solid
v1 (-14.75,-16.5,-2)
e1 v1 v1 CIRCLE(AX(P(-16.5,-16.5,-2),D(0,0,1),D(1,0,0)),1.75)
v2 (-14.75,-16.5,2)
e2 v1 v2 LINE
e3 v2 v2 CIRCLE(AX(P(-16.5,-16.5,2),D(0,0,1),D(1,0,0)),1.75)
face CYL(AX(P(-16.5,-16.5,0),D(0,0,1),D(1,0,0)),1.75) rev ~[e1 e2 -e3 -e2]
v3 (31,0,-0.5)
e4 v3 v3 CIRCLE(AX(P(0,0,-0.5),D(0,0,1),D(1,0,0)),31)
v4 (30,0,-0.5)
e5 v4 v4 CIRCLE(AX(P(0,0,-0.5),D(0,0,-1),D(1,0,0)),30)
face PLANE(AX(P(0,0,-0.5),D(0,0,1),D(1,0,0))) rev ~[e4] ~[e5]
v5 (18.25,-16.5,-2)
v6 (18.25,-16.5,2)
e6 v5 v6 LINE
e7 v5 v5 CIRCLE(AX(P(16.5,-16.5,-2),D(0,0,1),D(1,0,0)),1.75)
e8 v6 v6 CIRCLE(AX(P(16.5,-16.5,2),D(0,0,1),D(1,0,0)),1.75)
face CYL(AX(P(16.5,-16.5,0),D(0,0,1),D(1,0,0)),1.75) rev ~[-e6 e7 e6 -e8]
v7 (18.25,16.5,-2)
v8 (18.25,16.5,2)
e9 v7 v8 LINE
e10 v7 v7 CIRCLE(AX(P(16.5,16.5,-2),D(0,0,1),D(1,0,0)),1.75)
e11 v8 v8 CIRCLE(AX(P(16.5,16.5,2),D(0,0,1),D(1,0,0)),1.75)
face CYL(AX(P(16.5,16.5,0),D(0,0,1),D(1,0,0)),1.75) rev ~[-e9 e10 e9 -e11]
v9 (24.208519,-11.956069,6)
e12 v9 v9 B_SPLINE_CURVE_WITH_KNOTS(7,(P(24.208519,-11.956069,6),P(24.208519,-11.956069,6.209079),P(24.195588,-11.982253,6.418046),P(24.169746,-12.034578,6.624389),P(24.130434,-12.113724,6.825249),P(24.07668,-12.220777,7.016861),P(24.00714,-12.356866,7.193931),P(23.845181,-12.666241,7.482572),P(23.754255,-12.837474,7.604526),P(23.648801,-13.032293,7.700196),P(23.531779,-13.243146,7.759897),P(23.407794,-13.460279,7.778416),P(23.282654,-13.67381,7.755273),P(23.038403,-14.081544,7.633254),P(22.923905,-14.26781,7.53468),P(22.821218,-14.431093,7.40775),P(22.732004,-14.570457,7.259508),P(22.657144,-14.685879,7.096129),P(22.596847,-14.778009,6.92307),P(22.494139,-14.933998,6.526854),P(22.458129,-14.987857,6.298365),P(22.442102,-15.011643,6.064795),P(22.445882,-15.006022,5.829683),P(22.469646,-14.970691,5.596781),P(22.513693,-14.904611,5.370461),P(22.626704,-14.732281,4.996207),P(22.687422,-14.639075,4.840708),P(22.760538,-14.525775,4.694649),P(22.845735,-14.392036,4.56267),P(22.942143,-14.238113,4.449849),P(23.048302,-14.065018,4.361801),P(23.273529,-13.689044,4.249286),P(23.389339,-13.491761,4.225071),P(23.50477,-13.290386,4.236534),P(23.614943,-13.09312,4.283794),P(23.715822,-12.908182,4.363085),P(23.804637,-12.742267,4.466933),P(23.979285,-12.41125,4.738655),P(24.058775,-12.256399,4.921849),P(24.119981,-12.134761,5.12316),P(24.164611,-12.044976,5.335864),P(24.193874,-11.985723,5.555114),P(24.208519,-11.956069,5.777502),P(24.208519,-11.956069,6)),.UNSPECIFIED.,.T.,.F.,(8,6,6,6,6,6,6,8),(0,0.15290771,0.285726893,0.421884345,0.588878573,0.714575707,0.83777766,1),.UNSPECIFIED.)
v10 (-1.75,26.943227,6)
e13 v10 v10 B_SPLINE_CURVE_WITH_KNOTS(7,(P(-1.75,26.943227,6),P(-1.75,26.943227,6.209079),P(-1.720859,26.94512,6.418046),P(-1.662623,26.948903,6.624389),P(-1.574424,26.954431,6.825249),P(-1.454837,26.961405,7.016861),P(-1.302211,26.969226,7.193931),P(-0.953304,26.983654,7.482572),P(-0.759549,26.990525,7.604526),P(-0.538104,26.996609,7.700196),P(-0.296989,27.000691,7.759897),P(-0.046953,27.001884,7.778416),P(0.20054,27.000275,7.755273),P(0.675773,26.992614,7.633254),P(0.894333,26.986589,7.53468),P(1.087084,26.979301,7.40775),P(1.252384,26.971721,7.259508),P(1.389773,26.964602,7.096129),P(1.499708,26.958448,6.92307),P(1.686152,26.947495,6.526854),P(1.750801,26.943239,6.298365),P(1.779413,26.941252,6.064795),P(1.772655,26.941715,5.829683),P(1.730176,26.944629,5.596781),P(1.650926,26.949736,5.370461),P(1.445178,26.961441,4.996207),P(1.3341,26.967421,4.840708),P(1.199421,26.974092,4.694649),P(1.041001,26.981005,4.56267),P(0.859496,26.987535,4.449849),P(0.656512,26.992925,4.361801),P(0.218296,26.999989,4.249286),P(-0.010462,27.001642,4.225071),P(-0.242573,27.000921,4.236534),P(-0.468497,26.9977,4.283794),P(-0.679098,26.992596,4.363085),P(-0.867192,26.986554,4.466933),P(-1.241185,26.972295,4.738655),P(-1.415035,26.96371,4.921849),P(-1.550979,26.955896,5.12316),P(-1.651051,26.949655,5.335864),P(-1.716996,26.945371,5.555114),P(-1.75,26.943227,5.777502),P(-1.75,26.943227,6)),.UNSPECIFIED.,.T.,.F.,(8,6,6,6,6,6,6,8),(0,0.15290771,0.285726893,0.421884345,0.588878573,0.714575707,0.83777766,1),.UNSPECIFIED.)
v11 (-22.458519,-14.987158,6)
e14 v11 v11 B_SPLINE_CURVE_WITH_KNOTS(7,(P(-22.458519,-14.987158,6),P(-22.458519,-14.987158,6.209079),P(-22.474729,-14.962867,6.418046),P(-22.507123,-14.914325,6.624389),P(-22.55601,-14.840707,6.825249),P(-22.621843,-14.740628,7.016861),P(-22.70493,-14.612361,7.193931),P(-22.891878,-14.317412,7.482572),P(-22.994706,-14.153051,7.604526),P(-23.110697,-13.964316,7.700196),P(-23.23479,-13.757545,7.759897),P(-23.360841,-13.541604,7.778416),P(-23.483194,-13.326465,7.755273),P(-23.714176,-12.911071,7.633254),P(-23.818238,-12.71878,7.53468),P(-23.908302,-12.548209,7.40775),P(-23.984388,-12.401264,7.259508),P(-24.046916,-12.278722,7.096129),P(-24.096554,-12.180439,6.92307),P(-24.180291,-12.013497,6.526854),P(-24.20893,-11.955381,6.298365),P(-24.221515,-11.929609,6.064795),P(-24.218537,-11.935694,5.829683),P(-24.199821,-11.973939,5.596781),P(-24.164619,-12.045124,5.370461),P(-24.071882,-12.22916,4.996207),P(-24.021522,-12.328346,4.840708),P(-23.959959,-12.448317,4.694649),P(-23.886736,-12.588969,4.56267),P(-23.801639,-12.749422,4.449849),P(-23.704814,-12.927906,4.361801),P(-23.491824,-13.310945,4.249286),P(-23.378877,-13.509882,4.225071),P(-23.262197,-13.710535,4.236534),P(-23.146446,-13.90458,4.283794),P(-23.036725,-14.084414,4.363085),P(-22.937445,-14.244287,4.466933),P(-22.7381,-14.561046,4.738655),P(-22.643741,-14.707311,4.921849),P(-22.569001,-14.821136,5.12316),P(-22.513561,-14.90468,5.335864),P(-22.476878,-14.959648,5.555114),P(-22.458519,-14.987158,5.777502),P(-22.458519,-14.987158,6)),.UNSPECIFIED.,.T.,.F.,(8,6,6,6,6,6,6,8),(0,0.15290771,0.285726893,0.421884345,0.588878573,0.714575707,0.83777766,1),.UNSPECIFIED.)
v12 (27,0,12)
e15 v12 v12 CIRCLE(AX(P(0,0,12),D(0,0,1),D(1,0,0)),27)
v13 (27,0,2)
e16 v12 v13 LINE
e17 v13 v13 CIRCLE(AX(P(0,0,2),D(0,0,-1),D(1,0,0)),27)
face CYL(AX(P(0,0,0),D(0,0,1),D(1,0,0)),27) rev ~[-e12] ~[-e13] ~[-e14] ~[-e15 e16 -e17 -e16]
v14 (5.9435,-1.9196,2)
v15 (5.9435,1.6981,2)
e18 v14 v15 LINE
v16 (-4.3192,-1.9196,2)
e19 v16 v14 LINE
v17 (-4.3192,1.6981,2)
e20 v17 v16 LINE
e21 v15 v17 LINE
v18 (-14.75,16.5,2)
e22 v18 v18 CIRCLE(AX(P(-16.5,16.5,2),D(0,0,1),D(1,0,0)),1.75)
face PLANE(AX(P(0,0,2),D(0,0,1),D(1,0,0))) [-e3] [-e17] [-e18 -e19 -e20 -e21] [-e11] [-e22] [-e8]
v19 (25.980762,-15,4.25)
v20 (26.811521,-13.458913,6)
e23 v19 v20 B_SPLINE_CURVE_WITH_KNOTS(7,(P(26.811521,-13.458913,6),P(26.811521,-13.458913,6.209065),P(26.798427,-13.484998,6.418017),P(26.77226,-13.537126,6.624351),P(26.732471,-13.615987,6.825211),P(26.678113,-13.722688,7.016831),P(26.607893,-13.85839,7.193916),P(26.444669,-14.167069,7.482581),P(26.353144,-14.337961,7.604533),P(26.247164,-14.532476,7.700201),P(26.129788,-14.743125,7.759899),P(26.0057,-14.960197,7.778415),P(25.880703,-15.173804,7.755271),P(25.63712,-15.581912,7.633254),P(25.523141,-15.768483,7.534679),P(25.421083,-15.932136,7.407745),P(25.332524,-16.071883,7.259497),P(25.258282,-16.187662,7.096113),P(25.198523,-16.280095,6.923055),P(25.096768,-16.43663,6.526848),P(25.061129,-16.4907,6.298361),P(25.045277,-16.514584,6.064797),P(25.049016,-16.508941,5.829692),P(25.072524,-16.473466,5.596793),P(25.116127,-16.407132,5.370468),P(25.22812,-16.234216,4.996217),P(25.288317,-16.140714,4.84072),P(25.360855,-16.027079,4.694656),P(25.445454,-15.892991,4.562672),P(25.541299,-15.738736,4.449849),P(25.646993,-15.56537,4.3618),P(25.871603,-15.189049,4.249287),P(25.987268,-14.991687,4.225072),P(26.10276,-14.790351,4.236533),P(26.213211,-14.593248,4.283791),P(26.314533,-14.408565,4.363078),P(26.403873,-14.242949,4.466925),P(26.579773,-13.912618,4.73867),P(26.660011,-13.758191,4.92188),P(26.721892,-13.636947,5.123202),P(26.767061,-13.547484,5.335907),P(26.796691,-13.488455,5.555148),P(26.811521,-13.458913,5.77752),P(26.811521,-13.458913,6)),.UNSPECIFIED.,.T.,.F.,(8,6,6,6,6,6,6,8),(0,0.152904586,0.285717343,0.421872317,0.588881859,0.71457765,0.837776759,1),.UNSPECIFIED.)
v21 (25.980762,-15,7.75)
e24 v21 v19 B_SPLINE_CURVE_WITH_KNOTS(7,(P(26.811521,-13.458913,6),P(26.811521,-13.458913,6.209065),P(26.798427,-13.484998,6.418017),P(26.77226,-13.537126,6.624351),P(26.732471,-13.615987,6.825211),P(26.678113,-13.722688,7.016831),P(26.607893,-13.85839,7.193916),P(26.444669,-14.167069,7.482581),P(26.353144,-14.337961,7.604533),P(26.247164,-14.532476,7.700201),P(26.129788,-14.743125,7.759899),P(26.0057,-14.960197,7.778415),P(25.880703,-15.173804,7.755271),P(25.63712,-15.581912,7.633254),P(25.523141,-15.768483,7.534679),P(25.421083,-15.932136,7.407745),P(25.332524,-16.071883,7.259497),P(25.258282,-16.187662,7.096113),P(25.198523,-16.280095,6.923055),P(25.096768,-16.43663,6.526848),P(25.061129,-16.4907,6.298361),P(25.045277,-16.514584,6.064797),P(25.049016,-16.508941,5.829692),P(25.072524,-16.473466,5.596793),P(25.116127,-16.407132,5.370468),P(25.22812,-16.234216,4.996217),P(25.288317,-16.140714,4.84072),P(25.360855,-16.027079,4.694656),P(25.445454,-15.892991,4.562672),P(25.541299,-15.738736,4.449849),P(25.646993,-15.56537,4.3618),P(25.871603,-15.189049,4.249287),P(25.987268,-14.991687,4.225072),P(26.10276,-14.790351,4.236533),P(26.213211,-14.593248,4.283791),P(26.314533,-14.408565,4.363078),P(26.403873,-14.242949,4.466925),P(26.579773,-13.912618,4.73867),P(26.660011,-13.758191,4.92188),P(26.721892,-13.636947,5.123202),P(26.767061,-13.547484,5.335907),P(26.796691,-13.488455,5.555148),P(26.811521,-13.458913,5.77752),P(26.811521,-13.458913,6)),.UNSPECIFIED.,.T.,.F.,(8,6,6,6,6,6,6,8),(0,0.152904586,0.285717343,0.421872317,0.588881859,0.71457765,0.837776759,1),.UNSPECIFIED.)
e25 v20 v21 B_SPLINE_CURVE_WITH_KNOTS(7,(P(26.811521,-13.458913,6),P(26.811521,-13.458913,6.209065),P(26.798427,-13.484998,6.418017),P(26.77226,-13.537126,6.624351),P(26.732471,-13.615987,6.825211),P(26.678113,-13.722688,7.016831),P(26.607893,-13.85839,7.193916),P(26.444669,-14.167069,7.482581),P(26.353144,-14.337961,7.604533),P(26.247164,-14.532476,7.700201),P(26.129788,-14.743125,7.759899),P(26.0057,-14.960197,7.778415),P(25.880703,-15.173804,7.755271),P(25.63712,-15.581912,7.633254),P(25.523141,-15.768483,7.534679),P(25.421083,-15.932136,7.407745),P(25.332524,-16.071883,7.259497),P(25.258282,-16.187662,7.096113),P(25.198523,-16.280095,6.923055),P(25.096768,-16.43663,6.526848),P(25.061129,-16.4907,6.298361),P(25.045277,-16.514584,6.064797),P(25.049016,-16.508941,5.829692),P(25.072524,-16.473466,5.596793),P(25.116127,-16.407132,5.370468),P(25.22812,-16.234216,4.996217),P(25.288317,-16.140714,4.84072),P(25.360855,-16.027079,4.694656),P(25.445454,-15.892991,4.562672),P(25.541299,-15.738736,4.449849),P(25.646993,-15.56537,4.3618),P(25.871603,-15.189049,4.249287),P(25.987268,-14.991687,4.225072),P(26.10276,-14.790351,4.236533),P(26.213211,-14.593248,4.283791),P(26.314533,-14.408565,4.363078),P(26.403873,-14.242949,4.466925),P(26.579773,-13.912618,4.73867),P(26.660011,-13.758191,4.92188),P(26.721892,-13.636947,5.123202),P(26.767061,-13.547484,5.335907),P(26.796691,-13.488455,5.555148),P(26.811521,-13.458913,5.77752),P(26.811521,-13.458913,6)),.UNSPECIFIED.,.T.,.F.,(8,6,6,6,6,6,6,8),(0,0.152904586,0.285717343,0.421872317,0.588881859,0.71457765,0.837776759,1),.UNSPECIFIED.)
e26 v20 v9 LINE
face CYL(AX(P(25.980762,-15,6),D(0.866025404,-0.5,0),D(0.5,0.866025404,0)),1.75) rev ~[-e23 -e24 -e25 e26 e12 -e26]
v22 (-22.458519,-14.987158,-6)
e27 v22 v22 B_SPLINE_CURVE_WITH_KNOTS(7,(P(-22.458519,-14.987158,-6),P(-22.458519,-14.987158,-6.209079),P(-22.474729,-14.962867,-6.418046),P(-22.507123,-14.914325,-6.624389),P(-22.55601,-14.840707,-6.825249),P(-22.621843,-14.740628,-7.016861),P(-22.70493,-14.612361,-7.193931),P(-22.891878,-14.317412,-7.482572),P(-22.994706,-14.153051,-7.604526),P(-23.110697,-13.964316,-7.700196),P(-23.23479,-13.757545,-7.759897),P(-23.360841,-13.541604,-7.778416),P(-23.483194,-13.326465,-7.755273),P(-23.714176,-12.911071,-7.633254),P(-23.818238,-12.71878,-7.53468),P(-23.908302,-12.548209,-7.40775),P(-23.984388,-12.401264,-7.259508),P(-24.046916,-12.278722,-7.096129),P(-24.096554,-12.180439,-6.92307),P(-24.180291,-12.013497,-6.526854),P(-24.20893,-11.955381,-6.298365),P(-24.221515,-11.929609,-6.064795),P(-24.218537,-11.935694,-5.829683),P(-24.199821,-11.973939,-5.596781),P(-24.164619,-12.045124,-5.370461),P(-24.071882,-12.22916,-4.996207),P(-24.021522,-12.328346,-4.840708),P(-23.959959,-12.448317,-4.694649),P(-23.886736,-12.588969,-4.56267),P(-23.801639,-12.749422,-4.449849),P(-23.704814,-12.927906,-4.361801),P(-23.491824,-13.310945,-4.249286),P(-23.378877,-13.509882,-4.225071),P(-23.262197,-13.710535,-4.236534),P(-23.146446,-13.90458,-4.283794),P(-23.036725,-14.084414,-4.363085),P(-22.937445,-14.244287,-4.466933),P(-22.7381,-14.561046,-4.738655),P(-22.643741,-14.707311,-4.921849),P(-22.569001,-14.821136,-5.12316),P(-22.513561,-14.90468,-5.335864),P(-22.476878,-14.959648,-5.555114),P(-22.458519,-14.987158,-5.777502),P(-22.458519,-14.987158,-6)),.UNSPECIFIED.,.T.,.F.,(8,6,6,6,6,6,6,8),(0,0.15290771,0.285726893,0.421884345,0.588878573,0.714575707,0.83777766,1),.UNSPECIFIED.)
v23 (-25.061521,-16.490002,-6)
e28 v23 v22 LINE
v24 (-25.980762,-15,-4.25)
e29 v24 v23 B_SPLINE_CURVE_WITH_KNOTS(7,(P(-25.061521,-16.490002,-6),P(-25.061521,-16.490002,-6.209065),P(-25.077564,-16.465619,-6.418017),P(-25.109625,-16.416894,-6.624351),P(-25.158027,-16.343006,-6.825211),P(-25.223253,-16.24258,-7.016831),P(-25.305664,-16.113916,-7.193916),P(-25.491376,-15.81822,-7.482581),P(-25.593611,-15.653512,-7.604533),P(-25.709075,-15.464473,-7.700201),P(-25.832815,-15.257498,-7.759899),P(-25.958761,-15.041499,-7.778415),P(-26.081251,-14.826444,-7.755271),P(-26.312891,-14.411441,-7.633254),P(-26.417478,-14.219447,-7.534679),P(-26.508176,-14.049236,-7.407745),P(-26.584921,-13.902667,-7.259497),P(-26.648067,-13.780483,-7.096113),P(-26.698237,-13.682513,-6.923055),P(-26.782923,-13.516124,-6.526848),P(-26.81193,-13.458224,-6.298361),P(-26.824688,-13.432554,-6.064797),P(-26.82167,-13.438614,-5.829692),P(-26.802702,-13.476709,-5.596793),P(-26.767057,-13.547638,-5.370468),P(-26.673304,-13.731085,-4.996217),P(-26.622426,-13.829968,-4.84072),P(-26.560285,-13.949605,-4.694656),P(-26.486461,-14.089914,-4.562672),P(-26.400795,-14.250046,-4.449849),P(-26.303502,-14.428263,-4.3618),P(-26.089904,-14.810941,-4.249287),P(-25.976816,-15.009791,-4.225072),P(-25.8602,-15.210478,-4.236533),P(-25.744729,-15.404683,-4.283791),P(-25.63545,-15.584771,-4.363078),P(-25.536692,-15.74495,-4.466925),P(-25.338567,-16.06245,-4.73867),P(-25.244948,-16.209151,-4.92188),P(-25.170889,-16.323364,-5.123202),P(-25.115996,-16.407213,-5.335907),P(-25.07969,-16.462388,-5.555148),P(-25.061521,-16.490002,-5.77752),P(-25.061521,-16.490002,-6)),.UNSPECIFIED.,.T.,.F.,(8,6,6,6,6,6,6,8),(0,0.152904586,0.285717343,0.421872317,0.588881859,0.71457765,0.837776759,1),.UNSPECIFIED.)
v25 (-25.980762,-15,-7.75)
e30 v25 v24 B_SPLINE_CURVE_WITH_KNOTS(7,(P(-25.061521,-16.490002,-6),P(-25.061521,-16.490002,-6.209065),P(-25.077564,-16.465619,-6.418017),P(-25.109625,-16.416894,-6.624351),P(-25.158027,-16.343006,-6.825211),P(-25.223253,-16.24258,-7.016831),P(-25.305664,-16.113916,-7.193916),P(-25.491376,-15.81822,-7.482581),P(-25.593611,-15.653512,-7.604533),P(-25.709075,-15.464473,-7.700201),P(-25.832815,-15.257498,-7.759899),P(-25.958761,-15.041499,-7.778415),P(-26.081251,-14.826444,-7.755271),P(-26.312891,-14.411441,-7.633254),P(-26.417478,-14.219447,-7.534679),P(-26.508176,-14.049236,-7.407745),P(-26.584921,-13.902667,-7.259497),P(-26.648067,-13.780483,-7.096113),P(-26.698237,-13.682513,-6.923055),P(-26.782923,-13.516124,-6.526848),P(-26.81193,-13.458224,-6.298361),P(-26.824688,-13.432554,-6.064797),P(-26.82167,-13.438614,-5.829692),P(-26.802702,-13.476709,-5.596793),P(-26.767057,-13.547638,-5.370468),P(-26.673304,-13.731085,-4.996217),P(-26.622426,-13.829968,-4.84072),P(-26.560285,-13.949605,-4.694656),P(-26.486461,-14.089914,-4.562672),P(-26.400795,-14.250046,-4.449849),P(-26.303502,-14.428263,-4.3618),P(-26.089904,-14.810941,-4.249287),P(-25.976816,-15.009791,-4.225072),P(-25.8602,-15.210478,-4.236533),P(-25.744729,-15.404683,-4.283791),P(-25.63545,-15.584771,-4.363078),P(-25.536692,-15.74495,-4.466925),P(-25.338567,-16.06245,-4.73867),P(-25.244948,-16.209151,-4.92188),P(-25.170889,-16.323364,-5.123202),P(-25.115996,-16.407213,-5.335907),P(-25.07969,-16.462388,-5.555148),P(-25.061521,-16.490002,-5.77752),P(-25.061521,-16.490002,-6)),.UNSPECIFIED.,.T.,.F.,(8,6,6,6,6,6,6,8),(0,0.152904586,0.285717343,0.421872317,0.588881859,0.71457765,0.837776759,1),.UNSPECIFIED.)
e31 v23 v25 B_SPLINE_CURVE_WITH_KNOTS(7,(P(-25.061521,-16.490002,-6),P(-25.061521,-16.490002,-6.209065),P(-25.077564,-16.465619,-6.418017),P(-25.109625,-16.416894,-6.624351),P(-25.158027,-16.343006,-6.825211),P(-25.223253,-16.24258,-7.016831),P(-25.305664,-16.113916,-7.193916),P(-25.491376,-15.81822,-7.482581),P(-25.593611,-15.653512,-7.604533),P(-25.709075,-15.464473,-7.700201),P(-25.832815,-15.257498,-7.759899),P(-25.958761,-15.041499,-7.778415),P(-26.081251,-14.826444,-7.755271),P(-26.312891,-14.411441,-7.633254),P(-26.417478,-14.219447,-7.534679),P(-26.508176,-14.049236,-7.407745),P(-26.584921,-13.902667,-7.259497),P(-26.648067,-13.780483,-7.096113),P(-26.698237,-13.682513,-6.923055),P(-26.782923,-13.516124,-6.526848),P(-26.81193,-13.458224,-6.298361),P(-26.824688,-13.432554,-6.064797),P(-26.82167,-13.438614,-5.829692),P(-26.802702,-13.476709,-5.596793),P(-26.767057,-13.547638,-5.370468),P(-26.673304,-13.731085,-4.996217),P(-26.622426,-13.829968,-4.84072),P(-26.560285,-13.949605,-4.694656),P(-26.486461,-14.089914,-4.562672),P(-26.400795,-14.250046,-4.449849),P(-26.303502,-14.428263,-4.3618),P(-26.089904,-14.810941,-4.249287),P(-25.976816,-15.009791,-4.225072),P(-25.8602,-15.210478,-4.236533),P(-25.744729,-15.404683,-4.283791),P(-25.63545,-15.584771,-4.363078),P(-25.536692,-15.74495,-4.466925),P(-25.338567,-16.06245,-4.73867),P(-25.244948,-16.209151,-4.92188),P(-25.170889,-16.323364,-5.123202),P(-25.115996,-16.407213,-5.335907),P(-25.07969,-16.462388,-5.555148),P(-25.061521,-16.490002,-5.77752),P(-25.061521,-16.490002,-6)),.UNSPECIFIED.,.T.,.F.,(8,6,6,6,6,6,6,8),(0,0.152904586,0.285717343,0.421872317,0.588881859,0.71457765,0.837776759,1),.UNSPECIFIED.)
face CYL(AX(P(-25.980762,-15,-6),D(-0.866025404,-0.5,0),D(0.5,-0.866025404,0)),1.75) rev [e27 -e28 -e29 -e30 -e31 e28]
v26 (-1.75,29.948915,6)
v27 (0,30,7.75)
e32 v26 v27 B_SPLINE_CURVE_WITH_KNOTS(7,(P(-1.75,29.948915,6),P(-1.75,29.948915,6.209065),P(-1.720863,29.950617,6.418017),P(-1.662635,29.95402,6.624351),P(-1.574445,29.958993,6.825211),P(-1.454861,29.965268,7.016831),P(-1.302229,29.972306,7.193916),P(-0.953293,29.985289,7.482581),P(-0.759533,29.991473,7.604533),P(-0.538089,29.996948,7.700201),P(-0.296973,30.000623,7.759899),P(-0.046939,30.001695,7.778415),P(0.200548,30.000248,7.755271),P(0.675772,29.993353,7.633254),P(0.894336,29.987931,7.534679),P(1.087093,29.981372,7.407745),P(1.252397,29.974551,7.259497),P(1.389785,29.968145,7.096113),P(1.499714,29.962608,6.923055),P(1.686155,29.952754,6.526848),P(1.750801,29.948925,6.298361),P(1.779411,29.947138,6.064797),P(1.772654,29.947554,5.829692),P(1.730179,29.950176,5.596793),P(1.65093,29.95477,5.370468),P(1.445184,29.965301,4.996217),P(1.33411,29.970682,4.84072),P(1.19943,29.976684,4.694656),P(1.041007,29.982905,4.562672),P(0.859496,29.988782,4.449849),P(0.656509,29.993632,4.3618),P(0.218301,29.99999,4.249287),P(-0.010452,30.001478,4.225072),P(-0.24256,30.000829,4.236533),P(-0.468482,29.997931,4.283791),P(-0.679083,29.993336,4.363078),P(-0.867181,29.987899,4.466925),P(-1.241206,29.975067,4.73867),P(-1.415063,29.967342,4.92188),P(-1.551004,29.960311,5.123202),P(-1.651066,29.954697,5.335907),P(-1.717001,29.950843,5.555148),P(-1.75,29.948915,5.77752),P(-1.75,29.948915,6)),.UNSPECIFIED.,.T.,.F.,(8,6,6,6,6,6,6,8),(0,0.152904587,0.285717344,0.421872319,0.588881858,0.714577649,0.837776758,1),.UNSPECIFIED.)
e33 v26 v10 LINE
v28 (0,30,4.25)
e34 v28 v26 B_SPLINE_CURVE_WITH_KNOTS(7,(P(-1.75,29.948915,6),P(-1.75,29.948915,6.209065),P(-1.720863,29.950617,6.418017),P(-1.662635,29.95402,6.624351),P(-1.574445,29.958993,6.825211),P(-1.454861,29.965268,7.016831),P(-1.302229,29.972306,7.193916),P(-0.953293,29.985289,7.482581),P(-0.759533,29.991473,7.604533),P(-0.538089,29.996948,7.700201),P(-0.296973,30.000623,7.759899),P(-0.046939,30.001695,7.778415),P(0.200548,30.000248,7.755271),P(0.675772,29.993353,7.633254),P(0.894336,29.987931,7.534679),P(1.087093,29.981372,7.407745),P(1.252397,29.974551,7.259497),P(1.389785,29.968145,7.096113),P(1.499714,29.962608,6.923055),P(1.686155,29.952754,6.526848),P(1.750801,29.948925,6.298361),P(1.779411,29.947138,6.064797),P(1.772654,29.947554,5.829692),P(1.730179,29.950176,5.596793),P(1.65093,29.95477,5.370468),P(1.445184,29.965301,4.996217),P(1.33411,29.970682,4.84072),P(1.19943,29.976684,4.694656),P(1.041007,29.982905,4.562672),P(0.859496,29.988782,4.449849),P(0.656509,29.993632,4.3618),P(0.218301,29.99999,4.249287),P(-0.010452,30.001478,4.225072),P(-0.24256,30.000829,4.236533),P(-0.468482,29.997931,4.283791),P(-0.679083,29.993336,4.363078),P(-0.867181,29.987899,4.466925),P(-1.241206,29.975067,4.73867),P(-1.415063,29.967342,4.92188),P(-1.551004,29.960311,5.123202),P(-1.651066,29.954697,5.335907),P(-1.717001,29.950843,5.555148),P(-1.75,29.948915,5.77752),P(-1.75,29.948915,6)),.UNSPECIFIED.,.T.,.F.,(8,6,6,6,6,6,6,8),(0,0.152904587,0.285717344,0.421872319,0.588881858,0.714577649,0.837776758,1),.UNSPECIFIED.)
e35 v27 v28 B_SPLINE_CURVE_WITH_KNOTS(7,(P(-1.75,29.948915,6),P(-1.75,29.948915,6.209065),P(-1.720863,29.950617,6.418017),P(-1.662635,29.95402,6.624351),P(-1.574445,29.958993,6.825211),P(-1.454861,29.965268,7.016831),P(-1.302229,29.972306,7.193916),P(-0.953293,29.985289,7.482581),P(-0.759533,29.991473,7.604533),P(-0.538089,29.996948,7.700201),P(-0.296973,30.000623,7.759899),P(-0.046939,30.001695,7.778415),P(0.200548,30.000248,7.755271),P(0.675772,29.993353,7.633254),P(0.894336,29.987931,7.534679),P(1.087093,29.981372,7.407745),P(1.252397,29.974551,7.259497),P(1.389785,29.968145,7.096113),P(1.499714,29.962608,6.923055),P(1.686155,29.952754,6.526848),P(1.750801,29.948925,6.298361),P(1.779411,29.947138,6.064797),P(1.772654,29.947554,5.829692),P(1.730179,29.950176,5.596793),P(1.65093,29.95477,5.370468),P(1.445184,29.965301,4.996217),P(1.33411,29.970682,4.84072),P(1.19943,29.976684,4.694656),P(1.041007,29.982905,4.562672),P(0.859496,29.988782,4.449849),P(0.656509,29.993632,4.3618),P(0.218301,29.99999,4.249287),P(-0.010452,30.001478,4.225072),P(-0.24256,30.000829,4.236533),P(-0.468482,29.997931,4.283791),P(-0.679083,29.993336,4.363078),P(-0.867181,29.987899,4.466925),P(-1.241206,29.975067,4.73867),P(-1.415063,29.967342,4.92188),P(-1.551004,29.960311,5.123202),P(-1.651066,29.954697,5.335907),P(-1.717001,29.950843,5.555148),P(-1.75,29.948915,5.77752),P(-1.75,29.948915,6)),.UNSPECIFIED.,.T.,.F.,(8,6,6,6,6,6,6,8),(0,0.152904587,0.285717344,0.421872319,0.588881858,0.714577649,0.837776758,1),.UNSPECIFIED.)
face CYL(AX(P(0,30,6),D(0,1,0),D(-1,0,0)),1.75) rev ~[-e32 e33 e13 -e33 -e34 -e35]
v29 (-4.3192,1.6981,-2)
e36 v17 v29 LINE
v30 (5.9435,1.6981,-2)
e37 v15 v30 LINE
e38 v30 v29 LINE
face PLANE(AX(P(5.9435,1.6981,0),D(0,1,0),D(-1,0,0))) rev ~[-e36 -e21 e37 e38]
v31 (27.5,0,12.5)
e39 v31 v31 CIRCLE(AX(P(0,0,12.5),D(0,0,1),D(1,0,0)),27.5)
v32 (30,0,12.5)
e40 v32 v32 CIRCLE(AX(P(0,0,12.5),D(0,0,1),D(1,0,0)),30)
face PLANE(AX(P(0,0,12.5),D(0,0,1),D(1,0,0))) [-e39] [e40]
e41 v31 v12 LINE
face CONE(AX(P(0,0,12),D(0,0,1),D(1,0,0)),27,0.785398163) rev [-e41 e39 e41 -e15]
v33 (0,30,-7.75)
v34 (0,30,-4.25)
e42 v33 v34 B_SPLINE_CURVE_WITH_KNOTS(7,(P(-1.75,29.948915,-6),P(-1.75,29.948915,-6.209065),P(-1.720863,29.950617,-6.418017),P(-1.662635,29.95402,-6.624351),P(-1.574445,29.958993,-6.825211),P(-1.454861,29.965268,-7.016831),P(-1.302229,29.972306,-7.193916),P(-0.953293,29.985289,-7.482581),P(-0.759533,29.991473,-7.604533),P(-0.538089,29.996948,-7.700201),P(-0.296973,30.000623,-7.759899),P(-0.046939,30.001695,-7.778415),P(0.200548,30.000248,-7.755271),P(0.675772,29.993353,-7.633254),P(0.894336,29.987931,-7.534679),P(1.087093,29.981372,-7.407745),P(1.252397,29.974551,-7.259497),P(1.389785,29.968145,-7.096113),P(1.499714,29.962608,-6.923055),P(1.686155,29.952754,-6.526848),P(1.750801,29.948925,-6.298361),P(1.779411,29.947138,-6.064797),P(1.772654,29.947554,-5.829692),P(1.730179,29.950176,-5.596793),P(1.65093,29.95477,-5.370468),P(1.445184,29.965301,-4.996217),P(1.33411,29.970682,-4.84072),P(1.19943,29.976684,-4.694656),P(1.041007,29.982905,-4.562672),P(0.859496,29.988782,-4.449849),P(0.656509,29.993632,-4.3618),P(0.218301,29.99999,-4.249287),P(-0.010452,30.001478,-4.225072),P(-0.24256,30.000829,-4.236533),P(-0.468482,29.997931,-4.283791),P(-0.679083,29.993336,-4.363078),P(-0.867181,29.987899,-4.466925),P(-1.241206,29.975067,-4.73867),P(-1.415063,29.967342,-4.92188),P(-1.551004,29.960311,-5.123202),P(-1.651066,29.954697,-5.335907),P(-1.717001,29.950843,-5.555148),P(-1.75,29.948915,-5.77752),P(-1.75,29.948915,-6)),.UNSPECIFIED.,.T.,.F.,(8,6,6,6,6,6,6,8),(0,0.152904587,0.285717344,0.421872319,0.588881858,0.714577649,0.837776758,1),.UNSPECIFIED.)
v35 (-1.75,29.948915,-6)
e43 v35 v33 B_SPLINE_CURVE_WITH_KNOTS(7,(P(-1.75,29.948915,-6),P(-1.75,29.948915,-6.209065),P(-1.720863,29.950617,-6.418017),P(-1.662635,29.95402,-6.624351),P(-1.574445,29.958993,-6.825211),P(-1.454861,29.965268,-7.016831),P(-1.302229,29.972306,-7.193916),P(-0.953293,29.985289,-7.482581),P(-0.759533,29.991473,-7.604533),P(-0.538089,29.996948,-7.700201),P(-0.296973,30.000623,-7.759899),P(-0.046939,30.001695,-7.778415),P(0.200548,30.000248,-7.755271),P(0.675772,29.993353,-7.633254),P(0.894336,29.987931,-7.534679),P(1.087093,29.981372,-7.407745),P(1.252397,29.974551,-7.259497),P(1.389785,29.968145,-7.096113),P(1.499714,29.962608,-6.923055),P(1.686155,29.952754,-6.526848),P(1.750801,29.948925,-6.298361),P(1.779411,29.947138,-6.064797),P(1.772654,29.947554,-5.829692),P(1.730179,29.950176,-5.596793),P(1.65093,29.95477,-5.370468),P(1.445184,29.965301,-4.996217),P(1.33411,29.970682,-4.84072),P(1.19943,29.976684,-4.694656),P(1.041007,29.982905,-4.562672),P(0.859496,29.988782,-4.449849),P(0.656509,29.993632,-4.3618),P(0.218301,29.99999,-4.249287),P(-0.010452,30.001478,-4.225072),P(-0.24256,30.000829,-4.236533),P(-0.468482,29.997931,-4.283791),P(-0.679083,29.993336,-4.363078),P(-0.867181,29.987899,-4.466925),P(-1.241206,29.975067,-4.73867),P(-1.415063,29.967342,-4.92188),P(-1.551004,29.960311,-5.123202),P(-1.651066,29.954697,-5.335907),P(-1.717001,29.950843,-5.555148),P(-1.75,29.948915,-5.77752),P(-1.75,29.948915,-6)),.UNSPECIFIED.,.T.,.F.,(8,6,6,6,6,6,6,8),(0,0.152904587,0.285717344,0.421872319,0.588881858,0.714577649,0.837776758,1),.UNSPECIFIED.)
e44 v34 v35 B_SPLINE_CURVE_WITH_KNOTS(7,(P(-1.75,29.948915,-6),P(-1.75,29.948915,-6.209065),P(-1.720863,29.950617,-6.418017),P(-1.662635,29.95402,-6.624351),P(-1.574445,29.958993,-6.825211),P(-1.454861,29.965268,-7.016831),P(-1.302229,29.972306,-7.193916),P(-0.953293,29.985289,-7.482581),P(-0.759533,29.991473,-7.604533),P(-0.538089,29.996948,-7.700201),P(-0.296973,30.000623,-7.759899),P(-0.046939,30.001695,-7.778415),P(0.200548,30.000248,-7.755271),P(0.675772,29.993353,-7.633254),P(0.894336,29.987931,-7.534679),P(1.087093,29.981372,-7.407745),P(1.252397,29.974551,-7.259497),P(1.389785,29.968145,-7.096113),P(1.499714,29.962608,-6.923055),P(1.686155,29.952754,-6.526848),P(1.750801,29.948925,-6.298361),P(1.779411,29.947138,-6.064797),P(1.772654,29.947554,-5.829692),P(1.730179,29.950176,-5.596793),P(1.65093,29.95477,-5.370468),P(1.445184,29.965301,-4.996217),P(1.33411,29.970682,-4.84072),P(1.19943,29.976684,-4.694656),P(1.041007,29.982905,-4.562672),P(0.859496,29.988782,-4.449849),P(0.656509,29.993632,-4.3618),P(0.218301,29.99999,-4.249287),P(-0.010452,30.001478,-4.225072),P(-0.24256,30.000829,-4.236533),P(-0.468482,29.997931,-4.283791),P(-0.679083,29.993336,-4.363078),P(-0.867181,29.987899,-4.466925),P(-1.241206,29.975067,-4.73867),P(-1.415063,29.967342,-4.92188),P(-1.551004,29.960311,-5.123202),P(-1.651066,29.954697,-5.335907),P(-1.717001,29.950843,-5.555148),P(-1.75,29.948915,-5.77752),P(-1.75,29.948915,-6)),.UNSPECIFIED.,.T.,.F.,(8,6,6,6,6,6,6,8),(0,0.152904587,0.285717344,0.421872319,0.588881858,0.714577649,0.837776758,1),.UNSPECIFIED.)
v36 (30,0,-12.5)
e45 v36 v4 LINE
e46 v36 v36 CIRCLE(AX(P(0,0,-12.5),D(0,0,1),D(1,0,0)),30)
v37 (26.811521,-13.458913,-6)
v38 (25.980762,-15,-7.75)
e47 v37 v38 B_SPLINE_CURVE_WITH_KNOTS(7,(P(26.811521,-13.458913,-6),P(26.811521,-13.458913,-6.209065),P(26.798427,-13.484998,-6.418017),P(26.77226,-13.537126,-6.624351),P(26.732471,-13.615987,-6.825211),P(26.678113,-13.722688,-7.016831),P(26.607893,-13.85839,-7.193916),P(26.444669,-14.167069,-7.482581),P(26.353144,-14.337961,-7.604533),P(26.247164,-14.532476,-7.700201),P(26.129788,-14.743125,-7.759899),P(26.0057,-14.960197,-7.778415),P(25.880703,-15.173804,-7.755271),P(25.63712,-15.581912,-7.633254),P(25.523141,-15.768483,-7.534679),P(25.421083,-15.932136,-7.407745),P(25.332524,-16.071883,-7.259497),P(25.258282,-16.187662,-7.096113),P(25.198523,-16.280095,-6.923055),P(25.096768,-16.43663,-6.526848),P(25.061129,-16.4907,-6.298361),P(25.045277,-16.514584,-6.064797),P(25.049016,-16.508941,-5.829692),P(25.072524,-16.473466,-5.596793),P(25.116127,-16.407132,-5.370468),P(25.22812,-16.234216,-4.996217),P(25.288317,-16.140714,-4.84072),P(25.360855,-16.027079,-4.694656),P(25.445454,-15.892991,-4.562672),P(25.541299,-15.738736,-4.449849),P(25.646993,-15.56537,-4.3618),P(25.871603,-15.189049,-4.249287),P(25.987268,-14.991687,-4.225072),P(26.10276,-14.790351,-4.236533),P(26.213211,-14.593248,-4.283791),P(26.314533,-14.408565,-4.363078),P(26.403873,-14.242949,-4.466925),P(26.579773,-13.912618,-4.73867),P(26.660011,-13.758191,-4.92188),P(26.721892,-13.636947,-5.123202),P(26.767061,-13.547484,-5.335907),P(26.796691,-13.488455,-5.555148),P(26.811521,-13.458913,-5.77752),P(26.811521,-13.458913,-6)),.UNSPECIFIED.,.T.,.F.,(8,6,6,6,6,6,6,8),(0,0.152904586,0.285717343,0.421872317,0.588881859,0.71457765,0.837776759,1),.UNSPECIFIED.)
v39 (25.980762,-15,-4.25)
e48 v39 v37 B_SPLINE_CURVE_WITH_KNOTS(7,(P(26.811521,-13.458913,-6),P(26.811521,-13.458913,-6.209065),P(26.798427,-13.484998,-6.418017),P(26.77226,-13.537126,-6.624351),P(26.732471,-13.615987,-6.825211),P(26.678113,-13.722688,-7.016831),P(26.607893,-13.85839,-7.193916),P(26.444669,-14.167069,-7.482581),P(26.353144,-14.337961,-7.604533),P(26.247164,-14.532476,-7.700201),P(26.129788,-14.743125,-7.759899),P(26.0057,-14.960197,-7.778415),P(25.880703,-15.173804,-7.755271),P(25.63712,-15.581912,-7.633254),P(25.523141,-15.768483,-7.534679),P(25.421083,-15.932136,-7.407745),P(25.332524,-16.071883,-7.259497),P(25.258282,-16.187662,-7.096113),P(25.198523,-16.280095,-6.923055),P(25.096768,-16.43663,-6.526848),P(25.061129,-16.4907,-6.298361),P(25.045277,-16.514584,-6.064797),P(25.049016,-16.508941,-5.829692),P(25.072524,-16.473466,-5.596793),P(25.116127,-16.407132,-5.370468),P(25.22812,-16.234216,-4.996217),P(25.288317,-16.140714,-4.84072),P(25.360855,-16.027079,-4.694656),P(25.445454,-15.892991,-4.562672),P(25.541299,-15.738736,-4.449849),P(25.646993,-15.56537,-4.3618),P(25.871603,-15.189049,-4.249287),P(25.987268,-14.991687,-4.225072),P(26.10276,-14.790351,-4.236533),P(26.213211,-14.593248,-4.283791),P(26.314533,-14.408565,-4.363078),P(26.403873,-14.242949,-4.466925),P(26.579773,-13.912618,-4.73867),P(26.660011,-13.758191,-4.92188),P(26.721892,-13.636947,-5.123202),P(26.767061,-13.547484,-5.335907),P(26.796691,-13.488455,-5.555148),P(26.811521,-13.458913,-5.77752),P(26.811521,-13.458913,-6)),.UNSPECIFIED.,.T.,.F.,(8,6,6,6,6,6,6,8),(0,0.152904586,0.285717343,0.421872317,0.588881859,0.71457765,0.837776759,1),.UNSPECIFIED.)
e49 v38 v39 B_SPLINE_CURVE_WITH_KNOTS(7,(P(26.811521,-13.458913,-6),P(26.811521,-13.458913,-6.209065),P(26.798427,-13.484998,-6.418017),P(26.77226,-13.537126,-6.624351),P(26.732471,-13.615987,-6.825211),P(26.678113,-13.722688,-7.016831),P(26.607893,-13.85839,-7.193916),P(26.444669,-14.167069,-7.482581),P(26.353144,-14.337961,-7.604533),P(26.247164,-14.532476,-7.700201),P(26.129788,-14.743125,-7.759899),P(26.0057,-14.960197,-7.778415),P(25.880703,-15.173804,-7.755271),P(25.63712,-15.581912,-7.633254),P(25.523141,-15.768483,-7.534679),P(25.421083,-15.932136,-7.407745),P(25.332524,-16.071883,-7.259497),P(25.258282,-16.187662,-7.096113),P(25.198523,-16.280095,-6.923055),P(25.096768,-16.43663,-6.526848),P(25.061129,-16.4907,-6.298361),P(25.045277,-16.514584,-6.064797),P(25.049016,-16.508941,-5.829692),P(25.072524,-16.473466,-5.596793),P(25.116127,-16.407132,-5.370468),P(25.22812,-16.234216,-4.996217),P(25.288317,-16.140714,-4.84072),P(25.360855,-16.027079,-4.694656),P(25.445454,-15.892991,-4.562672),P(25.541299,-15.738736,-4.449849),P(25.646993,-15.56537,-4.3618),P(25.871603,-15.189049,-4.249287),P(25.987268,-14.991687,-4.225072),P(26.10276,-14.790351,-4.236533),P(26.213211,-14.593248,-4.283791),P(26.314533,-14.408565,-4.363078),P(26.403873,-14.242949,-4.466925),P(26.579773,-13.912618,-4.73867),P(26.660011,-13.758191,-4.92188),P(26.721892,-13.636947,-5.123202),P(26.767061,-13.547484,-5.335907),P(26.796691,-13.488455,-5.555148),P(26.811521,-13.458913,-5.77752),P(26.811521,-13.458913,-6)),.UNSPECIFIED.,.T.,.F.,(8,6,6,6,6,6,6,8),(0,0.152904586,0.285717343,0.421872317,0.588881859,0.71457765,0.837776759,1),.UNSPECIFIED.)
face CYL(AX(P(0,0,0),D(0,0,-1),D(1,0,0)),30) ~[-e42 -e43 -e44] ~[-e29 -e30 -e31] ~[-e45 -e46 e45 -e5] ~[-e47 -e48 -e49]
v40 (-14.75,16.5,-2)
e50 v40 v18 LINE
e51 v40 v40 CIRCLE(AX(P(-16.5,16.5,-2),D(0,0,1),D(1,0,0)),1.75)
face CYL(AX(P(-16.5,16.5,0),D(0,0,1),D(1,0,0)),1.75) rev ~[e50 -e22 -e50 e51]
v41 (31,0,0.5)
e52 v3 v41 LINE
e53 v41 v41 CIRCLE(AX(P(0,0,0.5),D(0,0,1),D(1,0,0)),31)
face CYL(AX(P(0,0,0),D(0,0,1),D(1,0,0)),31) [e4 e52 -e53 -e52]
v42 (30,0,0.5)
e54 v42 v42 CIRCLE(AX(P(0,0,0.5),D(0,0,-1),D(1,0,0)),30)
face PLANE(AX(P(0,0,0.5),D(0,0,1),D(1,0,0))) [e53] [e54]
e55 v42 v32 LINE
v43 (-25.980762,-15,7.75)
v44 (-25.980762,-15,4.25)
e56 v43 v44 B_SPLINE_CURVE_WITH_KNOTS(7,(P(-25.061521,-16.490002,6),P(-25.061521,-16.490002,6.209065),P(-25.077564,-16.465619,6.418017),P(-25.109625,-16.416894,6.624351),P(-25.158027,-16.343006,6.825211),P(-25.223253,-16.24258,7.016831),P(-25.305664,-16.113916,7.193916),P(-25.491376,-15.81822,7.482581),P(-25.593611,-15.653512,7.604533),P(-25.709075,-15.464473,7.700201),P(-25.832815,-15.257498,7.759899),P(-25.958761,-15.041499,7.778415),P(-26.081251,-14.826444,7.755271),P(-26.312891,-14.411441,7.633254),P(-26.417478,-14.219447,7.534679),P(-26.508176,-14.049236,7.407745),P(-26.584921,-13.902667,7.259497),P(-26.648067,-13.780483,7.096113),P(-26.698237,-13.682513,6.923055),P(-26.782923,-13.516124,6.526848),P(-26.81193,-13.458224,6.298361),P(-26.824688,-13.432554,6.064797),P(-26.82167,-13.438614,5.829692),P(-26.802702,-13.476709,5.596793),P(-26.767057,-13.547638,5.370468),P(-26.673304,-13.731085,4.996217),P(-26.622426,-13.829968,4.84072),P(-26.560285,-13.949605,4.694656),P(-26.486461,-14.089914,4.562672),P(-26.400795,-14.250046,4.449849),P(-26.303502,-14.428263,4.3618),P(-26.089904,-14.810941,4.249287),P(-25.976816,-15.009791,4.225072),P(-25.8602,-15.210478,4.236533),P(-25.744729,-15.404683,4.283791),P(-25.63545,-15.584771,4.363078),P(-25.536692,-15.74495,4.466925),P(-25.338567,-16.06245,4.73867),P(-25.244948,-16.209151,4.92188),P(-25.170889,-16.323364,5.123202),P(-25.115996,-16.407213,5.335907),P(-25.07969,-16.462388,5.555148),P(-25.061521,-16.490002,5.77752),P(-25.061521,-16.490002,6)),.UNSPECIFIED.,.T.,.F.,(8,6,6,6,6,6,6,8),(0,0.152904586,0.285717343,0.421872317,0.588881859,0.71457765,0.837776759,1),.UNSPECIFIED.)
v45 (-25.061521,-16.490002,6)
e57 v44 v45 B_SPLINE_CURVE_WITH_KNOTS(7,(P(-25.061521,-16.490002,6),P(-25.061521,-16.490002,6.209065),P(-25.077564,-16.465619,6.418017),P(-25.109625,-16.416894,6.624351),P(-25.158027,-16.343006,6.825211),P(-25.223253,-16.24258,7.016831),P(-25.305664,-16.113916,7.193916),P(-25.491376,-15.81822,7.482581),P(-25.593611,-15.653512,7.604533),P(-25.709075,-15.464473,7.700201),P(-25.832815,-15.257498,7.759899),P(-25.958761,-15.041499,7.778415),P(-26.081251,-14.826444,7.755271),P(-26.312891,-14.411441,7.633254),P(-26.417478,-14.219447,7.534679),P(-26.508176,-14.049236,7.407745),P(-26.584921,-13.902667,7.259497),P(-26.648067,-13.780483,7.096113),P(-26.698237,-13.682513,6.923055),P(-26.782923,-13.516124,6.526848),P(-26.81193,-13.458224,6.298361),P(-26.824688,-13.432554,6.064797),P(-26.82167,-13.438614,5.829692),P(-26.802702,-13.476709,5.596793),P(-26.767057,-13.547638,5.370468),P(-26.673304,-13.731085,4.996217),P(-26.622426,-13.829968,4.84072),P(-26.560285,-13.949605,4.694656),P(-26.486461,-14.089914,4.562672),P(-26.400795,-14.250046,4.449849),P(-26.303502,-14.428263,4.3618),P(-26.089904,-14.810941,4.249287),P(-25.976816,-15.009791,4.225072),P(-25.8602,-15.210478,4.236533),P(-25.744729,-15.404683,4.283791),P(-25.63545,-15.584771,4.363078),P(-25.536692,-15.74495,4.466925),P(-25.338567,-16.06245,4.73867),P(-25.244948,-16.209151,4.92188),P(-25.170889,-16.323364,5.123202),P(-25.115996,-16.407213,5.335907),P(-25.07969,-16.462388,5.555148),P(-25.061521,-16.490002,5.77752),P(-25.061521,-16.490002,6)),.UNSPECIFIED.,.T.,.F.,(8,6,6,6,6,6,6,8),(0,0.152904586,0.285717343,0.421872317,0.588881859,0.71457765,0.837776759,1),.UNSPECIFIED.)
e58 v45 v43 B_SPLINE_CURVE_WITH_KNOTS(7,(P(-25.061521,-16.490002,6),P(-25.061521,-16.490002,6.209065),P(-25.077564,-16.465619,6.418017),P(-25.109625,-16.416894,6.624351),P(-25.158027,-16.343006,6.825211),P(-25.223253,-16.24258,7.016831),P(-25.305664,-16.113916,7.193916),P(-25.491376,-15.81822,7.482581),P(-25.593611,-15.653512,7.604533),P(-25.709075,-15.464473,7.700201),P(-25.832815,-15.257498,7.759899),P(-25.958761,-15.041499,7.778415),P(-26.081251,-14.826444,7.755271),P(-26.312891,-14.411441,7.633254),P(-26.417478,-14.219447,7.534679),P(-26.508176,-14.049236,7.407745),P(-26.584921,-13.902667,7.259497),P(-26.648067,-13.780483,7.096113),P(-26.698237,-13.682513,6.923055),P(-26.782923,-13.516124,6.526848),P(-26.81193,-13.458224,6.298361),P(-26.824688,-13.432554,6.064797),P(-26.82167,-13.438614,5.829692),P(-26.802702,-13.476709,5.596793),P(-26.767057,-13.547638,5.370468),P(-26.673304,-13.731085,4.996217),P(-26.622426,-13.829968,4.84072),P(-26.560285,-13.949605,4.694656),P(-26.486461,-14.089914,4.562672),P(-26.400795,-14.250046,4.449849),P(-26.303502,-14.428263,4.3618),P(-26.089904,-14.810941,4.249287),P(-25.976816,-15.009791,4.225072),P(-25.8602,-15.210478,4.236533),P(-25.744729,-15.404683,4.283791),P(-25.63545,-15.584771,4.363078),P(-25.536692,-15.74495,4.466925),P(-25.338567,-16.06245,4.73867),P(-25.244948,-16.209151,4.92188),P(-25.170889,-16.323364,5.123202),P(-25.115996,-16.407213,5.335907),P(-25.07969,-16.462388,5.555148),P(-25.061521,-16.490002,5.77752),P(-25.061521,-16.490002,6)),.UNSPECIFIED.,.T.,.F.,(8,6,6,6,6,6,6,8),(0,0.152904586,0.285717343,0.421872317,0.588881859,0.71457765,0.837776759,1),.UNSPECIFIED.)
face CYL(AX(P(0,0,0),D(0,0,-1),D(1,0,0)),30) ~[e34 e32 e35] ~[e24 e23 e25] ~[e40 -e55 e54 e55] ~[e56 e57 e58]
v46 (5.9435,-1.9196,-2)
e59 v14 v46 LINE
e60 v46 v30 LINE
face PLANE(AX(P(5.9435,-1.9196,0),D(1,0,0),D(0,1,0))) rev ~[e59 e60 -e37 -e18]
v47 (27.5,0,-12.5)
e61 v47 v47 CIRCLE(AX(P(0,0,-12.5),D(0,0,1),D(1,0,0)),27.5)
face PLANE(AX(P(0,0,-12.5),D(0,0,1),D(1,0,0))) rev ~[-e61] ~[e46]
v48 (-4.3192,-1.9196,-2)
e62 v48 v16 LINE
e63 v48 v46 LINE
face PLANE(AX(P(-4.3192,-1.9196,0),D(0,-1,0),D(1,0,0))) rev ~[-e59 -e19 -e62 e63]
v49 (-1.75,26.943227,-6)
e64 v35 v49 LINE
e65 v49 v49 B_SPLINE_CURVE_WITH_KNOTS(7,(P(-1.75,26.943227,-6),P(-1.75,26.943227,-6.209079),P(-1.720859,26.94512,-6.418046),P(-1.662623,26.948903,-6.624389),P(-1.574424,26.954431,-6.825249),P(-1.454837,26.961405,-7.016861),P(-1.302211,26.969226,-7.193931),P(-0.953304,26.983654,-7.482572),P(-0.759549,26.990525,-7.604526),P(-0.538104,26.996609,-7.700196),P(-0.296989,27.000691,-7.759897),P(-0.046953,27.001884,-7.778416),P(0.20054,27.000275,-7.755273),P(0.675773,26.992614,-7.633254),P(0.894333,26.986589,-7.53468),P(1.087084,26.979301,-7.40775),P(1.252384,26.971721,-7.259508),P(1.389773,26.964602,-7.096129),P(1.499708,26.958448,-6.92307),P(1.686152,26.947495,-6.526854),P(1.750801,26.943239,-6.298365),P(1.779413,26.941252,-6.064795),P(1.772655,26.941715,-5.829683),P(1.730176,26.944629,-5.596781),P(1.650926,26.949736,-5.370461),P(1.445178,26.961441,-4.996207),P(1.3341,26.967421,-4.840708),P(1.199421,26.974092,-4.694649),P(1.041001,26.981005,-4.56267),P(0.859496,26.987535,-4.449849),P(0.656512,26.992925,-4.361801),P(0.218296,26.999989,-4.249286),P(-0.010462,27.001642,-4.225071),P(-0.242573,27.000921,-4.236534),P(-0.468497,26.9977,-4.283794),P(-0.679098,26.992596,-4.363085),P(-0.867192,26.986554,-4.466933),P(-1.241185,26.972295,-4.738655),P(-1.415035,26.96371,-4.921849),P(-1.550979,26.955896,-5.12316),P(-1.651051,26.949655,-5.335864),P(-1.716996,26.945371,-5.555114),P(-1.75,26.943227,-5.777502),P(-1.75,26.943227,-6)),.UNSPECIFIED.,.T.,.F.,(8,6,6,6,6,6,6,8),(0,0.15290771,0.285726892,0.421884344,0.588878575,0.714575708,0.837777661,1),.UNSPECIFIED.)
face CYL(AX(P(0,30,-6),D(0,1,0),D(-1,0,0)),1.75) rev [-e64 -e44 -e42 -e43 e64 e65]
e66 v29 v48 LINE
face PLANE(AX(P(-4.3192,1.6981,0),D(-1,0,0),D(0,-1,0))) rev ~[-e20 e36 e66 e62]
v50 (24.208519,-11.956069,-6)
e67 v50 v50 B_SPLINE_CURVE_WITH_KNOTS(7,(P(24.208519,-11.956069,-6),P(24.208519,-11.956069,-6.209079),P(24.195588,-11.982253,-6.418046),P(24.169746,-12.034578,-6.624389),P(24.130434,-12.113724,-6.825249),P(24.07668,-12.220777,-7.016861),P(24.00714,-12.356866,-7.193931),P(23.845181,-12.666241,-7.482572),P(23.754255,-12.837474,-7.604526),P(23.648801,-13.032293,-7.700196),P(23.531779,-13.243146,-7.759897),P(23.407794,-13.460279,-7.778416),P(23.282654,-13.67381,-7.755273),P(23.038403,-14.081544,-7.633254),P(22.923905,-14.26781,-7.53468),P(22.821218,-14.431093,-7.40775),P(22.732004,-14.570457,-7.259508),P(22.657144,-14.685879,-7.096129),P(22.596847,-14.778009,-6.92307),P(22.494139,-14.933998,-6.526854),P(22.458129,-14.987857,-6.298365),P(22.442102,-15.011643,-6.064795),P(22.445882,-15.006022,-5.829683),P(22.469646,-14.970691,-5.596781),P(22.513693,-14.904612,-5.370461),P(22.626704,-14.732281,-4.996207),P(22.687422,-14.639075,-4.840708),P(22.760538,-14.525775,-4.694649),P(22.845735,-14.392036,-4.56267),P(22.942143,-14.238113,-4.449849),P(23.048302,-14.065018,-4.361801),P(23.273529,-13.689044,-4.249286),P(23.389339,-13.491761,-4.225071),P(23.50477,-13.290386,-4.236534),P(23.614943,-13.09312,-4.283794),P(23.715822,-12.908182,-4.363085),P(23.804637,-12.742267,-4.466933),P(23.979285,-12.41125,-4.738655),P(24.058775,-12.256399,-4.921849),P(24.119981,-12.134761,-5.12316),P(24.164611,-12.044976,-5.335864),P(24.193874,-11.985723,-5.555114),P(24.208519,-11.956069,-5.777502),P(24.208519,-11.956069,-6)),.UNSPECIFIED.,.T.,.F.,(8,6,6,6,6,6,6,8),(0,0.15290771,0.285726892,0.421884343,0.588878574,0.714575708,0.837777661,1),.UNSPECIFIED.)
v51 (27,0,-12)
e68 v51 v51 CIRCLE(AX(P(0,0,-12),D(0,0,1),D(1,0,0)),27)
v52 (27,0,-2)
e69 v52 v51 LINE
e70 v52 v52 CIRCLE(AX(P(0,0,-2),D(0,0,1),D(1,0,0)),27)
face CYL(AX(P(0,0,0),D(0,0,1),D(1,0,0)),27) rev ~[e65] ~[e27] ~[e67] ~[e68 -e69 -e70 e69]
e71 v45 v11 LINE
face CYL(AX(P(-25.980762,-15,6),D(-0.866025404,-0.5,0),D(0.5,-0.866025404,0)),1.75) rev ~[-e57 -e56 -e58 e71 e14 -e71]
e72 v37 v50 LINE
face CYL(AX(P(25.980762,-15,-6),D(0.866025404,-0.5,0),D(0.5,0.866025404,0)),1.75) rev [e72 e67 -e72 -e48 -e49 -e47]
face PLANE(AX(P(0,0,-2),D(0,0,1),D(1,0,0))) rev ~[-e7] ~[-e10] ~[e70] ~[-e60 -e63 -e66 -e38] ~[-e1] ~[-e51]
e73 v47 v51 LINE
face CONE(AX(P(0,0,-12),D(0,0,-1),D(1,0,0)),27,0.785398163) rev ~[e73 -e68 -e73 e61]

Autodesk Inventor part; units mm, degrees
ref_plane "YZ Plane" through (0, 0, 0) normal (1, 0, 0) x (0, 1, 0)
ref_plane "XZ Plane" through (0, 0, 0) normal (0, 1, 0) x (-1, 0, 0)
sketch "Skizze1" plane through (0, 0, 0) normal (0, 0, 1) x (1, 0, 0)
  circle A0 centre (0, 0) radius 30
  circle A1 centre (0, 0) radius 27
  dimension "d0" = 60
  dimension "d1" = 54
extrude "Extrusion1" add sketch "Skizze1" along normal mid plane 25
ref_plane "Arbeitsebene1" through (0, 0, 6) normal (0, 0, 1) x (1, 0, 0)
sketch "Skizze2" plane through (0, 0, 6) normal (0, 0, 1) x (1, 0, 0)
  line L0 (0, 39.0372) -> (0, -37.5893) construction
  circle A0 centre (0, 0) radius 30 construction
  point P0 (0, 30)
ref_plane "Arbeitsebene2" through (0, 30, 6) normal (0, 1, 0) x (-1, 0, 0)
sketch "Skizze3" plane through (0, 30, 6) normal (0, 1, 0) x (-1, 0, 0)
  circle A0 centre (0, 0) radius 1.75
  point P0 (0, -6)
  dimension "d5" = 3.5
extrude "Extrusion2" cut sketch "Skizze3" against normal blind 5
pattern_circular "Runde Anordnung1" count 3 over 360 about axis through (0, 0, -10) along (0, 0, 1) of "Extrusion2"
mirror "Spiegeln1" about plane through (0, 0, 0) normal (0, 0, 1) of "Extrusion2", "Runde Anordnung1"
chamfer "Fase1" distance 0.5 angle 45 2 edges at (-27, 0, 12.5) (-27, 0, -12.5)
sketch "Skizze5" plane through (0, 0, 0) normal (0, 0, 1) x (1, 0, 0)
  circle A0 centre (0, 0) radius 27
  line L0 (-4.3192, -1.9196) -> (5.9435, -1.9196)
  line L1 (5.9435, -1.9196) -> (5.9435, 1.6981)
  line L2 (5.9435, 1.6981) -> (-4.3192, 1.6981)
  line L3 (-4.3192, 1.6981) -> (-4.3192, -1.9196)
extrude "Extrusion4" add sketch "Skizze5" along normal mid plane 4
sketch "Skizze4" plane through (0, 0, 0) normal (0, 0, 1) x (1, 0, 0)
  line L0 (0, 34.5644) -> (0, -38.5024) construction
  line L1 (-38.0901, 0) -> (52.3904, 0) construction
  line L2 (-34.7368, 16.5) -> (36.624, 16.5) construction
  line L3 (-36.0898, -16.5) -> (37.8594, -16.5) construction
  line L4 (16.5, 35.2115) -> (16.5, -32.6782) construction
  line L5 (-16.5, 34.5644) -> (-16.5, -34.6196) construction
  circle A0 centre (-16.5, 16.5) radius 1.75
  circle A1 centre (16.5, 16.5) radius 1.75
  circle A2 centre (-16.5, -16.5) radius 1.75
  circle A3 centre (16.5, -16.5) radius 1.75
  circle A4 centre (-16.5, 16.5) radius 3.6693
  circle A5 centre (16.5, 16.5) radius 3.7169
  circle A6 centre (16.5, -16.5) radius 3.6667
  circle A7 centre (-16.5, -16.5) radius 3.6675
  point P0 (0, 0)
  dimension "d14" = 33
  dimension "d15" = 33
  dimension "d16" = 3.5
  dimension "d17" = 3.5
  dimension "d18" = 3.5
  dimension "d19" = 3.5
extrude "Extrusion3" add sketch "Skizze4" along normal mid plane 4
extrude "Extrusion5" cut sketch "Skizze4" against normal mid plane 4 contours A0 | A1 | A2 | A3
sketch "Skizze6" plane through (0, 0, 0) normal (0, 0, 1) x (1, 0, 0)
  circle A0 centre (0, 0) radius 31
  circle A1 centre (0, 0) radius 29
  dimension "d27" = 62
  dimension "d28" = 58
extrude "Extrusion6" add sketch "Skizze6" along normal mid plane 1
ref_plane "Arbeitsebene3" through (0, 0, -6) normal (0, 0, 1) x (1, 0, 0)
ref_plane "Arbeitsebene4" through (0, 30, -6) normal (0, -1, 0) x (-1, 0, 0)
properties part number "_3D-Druck"
